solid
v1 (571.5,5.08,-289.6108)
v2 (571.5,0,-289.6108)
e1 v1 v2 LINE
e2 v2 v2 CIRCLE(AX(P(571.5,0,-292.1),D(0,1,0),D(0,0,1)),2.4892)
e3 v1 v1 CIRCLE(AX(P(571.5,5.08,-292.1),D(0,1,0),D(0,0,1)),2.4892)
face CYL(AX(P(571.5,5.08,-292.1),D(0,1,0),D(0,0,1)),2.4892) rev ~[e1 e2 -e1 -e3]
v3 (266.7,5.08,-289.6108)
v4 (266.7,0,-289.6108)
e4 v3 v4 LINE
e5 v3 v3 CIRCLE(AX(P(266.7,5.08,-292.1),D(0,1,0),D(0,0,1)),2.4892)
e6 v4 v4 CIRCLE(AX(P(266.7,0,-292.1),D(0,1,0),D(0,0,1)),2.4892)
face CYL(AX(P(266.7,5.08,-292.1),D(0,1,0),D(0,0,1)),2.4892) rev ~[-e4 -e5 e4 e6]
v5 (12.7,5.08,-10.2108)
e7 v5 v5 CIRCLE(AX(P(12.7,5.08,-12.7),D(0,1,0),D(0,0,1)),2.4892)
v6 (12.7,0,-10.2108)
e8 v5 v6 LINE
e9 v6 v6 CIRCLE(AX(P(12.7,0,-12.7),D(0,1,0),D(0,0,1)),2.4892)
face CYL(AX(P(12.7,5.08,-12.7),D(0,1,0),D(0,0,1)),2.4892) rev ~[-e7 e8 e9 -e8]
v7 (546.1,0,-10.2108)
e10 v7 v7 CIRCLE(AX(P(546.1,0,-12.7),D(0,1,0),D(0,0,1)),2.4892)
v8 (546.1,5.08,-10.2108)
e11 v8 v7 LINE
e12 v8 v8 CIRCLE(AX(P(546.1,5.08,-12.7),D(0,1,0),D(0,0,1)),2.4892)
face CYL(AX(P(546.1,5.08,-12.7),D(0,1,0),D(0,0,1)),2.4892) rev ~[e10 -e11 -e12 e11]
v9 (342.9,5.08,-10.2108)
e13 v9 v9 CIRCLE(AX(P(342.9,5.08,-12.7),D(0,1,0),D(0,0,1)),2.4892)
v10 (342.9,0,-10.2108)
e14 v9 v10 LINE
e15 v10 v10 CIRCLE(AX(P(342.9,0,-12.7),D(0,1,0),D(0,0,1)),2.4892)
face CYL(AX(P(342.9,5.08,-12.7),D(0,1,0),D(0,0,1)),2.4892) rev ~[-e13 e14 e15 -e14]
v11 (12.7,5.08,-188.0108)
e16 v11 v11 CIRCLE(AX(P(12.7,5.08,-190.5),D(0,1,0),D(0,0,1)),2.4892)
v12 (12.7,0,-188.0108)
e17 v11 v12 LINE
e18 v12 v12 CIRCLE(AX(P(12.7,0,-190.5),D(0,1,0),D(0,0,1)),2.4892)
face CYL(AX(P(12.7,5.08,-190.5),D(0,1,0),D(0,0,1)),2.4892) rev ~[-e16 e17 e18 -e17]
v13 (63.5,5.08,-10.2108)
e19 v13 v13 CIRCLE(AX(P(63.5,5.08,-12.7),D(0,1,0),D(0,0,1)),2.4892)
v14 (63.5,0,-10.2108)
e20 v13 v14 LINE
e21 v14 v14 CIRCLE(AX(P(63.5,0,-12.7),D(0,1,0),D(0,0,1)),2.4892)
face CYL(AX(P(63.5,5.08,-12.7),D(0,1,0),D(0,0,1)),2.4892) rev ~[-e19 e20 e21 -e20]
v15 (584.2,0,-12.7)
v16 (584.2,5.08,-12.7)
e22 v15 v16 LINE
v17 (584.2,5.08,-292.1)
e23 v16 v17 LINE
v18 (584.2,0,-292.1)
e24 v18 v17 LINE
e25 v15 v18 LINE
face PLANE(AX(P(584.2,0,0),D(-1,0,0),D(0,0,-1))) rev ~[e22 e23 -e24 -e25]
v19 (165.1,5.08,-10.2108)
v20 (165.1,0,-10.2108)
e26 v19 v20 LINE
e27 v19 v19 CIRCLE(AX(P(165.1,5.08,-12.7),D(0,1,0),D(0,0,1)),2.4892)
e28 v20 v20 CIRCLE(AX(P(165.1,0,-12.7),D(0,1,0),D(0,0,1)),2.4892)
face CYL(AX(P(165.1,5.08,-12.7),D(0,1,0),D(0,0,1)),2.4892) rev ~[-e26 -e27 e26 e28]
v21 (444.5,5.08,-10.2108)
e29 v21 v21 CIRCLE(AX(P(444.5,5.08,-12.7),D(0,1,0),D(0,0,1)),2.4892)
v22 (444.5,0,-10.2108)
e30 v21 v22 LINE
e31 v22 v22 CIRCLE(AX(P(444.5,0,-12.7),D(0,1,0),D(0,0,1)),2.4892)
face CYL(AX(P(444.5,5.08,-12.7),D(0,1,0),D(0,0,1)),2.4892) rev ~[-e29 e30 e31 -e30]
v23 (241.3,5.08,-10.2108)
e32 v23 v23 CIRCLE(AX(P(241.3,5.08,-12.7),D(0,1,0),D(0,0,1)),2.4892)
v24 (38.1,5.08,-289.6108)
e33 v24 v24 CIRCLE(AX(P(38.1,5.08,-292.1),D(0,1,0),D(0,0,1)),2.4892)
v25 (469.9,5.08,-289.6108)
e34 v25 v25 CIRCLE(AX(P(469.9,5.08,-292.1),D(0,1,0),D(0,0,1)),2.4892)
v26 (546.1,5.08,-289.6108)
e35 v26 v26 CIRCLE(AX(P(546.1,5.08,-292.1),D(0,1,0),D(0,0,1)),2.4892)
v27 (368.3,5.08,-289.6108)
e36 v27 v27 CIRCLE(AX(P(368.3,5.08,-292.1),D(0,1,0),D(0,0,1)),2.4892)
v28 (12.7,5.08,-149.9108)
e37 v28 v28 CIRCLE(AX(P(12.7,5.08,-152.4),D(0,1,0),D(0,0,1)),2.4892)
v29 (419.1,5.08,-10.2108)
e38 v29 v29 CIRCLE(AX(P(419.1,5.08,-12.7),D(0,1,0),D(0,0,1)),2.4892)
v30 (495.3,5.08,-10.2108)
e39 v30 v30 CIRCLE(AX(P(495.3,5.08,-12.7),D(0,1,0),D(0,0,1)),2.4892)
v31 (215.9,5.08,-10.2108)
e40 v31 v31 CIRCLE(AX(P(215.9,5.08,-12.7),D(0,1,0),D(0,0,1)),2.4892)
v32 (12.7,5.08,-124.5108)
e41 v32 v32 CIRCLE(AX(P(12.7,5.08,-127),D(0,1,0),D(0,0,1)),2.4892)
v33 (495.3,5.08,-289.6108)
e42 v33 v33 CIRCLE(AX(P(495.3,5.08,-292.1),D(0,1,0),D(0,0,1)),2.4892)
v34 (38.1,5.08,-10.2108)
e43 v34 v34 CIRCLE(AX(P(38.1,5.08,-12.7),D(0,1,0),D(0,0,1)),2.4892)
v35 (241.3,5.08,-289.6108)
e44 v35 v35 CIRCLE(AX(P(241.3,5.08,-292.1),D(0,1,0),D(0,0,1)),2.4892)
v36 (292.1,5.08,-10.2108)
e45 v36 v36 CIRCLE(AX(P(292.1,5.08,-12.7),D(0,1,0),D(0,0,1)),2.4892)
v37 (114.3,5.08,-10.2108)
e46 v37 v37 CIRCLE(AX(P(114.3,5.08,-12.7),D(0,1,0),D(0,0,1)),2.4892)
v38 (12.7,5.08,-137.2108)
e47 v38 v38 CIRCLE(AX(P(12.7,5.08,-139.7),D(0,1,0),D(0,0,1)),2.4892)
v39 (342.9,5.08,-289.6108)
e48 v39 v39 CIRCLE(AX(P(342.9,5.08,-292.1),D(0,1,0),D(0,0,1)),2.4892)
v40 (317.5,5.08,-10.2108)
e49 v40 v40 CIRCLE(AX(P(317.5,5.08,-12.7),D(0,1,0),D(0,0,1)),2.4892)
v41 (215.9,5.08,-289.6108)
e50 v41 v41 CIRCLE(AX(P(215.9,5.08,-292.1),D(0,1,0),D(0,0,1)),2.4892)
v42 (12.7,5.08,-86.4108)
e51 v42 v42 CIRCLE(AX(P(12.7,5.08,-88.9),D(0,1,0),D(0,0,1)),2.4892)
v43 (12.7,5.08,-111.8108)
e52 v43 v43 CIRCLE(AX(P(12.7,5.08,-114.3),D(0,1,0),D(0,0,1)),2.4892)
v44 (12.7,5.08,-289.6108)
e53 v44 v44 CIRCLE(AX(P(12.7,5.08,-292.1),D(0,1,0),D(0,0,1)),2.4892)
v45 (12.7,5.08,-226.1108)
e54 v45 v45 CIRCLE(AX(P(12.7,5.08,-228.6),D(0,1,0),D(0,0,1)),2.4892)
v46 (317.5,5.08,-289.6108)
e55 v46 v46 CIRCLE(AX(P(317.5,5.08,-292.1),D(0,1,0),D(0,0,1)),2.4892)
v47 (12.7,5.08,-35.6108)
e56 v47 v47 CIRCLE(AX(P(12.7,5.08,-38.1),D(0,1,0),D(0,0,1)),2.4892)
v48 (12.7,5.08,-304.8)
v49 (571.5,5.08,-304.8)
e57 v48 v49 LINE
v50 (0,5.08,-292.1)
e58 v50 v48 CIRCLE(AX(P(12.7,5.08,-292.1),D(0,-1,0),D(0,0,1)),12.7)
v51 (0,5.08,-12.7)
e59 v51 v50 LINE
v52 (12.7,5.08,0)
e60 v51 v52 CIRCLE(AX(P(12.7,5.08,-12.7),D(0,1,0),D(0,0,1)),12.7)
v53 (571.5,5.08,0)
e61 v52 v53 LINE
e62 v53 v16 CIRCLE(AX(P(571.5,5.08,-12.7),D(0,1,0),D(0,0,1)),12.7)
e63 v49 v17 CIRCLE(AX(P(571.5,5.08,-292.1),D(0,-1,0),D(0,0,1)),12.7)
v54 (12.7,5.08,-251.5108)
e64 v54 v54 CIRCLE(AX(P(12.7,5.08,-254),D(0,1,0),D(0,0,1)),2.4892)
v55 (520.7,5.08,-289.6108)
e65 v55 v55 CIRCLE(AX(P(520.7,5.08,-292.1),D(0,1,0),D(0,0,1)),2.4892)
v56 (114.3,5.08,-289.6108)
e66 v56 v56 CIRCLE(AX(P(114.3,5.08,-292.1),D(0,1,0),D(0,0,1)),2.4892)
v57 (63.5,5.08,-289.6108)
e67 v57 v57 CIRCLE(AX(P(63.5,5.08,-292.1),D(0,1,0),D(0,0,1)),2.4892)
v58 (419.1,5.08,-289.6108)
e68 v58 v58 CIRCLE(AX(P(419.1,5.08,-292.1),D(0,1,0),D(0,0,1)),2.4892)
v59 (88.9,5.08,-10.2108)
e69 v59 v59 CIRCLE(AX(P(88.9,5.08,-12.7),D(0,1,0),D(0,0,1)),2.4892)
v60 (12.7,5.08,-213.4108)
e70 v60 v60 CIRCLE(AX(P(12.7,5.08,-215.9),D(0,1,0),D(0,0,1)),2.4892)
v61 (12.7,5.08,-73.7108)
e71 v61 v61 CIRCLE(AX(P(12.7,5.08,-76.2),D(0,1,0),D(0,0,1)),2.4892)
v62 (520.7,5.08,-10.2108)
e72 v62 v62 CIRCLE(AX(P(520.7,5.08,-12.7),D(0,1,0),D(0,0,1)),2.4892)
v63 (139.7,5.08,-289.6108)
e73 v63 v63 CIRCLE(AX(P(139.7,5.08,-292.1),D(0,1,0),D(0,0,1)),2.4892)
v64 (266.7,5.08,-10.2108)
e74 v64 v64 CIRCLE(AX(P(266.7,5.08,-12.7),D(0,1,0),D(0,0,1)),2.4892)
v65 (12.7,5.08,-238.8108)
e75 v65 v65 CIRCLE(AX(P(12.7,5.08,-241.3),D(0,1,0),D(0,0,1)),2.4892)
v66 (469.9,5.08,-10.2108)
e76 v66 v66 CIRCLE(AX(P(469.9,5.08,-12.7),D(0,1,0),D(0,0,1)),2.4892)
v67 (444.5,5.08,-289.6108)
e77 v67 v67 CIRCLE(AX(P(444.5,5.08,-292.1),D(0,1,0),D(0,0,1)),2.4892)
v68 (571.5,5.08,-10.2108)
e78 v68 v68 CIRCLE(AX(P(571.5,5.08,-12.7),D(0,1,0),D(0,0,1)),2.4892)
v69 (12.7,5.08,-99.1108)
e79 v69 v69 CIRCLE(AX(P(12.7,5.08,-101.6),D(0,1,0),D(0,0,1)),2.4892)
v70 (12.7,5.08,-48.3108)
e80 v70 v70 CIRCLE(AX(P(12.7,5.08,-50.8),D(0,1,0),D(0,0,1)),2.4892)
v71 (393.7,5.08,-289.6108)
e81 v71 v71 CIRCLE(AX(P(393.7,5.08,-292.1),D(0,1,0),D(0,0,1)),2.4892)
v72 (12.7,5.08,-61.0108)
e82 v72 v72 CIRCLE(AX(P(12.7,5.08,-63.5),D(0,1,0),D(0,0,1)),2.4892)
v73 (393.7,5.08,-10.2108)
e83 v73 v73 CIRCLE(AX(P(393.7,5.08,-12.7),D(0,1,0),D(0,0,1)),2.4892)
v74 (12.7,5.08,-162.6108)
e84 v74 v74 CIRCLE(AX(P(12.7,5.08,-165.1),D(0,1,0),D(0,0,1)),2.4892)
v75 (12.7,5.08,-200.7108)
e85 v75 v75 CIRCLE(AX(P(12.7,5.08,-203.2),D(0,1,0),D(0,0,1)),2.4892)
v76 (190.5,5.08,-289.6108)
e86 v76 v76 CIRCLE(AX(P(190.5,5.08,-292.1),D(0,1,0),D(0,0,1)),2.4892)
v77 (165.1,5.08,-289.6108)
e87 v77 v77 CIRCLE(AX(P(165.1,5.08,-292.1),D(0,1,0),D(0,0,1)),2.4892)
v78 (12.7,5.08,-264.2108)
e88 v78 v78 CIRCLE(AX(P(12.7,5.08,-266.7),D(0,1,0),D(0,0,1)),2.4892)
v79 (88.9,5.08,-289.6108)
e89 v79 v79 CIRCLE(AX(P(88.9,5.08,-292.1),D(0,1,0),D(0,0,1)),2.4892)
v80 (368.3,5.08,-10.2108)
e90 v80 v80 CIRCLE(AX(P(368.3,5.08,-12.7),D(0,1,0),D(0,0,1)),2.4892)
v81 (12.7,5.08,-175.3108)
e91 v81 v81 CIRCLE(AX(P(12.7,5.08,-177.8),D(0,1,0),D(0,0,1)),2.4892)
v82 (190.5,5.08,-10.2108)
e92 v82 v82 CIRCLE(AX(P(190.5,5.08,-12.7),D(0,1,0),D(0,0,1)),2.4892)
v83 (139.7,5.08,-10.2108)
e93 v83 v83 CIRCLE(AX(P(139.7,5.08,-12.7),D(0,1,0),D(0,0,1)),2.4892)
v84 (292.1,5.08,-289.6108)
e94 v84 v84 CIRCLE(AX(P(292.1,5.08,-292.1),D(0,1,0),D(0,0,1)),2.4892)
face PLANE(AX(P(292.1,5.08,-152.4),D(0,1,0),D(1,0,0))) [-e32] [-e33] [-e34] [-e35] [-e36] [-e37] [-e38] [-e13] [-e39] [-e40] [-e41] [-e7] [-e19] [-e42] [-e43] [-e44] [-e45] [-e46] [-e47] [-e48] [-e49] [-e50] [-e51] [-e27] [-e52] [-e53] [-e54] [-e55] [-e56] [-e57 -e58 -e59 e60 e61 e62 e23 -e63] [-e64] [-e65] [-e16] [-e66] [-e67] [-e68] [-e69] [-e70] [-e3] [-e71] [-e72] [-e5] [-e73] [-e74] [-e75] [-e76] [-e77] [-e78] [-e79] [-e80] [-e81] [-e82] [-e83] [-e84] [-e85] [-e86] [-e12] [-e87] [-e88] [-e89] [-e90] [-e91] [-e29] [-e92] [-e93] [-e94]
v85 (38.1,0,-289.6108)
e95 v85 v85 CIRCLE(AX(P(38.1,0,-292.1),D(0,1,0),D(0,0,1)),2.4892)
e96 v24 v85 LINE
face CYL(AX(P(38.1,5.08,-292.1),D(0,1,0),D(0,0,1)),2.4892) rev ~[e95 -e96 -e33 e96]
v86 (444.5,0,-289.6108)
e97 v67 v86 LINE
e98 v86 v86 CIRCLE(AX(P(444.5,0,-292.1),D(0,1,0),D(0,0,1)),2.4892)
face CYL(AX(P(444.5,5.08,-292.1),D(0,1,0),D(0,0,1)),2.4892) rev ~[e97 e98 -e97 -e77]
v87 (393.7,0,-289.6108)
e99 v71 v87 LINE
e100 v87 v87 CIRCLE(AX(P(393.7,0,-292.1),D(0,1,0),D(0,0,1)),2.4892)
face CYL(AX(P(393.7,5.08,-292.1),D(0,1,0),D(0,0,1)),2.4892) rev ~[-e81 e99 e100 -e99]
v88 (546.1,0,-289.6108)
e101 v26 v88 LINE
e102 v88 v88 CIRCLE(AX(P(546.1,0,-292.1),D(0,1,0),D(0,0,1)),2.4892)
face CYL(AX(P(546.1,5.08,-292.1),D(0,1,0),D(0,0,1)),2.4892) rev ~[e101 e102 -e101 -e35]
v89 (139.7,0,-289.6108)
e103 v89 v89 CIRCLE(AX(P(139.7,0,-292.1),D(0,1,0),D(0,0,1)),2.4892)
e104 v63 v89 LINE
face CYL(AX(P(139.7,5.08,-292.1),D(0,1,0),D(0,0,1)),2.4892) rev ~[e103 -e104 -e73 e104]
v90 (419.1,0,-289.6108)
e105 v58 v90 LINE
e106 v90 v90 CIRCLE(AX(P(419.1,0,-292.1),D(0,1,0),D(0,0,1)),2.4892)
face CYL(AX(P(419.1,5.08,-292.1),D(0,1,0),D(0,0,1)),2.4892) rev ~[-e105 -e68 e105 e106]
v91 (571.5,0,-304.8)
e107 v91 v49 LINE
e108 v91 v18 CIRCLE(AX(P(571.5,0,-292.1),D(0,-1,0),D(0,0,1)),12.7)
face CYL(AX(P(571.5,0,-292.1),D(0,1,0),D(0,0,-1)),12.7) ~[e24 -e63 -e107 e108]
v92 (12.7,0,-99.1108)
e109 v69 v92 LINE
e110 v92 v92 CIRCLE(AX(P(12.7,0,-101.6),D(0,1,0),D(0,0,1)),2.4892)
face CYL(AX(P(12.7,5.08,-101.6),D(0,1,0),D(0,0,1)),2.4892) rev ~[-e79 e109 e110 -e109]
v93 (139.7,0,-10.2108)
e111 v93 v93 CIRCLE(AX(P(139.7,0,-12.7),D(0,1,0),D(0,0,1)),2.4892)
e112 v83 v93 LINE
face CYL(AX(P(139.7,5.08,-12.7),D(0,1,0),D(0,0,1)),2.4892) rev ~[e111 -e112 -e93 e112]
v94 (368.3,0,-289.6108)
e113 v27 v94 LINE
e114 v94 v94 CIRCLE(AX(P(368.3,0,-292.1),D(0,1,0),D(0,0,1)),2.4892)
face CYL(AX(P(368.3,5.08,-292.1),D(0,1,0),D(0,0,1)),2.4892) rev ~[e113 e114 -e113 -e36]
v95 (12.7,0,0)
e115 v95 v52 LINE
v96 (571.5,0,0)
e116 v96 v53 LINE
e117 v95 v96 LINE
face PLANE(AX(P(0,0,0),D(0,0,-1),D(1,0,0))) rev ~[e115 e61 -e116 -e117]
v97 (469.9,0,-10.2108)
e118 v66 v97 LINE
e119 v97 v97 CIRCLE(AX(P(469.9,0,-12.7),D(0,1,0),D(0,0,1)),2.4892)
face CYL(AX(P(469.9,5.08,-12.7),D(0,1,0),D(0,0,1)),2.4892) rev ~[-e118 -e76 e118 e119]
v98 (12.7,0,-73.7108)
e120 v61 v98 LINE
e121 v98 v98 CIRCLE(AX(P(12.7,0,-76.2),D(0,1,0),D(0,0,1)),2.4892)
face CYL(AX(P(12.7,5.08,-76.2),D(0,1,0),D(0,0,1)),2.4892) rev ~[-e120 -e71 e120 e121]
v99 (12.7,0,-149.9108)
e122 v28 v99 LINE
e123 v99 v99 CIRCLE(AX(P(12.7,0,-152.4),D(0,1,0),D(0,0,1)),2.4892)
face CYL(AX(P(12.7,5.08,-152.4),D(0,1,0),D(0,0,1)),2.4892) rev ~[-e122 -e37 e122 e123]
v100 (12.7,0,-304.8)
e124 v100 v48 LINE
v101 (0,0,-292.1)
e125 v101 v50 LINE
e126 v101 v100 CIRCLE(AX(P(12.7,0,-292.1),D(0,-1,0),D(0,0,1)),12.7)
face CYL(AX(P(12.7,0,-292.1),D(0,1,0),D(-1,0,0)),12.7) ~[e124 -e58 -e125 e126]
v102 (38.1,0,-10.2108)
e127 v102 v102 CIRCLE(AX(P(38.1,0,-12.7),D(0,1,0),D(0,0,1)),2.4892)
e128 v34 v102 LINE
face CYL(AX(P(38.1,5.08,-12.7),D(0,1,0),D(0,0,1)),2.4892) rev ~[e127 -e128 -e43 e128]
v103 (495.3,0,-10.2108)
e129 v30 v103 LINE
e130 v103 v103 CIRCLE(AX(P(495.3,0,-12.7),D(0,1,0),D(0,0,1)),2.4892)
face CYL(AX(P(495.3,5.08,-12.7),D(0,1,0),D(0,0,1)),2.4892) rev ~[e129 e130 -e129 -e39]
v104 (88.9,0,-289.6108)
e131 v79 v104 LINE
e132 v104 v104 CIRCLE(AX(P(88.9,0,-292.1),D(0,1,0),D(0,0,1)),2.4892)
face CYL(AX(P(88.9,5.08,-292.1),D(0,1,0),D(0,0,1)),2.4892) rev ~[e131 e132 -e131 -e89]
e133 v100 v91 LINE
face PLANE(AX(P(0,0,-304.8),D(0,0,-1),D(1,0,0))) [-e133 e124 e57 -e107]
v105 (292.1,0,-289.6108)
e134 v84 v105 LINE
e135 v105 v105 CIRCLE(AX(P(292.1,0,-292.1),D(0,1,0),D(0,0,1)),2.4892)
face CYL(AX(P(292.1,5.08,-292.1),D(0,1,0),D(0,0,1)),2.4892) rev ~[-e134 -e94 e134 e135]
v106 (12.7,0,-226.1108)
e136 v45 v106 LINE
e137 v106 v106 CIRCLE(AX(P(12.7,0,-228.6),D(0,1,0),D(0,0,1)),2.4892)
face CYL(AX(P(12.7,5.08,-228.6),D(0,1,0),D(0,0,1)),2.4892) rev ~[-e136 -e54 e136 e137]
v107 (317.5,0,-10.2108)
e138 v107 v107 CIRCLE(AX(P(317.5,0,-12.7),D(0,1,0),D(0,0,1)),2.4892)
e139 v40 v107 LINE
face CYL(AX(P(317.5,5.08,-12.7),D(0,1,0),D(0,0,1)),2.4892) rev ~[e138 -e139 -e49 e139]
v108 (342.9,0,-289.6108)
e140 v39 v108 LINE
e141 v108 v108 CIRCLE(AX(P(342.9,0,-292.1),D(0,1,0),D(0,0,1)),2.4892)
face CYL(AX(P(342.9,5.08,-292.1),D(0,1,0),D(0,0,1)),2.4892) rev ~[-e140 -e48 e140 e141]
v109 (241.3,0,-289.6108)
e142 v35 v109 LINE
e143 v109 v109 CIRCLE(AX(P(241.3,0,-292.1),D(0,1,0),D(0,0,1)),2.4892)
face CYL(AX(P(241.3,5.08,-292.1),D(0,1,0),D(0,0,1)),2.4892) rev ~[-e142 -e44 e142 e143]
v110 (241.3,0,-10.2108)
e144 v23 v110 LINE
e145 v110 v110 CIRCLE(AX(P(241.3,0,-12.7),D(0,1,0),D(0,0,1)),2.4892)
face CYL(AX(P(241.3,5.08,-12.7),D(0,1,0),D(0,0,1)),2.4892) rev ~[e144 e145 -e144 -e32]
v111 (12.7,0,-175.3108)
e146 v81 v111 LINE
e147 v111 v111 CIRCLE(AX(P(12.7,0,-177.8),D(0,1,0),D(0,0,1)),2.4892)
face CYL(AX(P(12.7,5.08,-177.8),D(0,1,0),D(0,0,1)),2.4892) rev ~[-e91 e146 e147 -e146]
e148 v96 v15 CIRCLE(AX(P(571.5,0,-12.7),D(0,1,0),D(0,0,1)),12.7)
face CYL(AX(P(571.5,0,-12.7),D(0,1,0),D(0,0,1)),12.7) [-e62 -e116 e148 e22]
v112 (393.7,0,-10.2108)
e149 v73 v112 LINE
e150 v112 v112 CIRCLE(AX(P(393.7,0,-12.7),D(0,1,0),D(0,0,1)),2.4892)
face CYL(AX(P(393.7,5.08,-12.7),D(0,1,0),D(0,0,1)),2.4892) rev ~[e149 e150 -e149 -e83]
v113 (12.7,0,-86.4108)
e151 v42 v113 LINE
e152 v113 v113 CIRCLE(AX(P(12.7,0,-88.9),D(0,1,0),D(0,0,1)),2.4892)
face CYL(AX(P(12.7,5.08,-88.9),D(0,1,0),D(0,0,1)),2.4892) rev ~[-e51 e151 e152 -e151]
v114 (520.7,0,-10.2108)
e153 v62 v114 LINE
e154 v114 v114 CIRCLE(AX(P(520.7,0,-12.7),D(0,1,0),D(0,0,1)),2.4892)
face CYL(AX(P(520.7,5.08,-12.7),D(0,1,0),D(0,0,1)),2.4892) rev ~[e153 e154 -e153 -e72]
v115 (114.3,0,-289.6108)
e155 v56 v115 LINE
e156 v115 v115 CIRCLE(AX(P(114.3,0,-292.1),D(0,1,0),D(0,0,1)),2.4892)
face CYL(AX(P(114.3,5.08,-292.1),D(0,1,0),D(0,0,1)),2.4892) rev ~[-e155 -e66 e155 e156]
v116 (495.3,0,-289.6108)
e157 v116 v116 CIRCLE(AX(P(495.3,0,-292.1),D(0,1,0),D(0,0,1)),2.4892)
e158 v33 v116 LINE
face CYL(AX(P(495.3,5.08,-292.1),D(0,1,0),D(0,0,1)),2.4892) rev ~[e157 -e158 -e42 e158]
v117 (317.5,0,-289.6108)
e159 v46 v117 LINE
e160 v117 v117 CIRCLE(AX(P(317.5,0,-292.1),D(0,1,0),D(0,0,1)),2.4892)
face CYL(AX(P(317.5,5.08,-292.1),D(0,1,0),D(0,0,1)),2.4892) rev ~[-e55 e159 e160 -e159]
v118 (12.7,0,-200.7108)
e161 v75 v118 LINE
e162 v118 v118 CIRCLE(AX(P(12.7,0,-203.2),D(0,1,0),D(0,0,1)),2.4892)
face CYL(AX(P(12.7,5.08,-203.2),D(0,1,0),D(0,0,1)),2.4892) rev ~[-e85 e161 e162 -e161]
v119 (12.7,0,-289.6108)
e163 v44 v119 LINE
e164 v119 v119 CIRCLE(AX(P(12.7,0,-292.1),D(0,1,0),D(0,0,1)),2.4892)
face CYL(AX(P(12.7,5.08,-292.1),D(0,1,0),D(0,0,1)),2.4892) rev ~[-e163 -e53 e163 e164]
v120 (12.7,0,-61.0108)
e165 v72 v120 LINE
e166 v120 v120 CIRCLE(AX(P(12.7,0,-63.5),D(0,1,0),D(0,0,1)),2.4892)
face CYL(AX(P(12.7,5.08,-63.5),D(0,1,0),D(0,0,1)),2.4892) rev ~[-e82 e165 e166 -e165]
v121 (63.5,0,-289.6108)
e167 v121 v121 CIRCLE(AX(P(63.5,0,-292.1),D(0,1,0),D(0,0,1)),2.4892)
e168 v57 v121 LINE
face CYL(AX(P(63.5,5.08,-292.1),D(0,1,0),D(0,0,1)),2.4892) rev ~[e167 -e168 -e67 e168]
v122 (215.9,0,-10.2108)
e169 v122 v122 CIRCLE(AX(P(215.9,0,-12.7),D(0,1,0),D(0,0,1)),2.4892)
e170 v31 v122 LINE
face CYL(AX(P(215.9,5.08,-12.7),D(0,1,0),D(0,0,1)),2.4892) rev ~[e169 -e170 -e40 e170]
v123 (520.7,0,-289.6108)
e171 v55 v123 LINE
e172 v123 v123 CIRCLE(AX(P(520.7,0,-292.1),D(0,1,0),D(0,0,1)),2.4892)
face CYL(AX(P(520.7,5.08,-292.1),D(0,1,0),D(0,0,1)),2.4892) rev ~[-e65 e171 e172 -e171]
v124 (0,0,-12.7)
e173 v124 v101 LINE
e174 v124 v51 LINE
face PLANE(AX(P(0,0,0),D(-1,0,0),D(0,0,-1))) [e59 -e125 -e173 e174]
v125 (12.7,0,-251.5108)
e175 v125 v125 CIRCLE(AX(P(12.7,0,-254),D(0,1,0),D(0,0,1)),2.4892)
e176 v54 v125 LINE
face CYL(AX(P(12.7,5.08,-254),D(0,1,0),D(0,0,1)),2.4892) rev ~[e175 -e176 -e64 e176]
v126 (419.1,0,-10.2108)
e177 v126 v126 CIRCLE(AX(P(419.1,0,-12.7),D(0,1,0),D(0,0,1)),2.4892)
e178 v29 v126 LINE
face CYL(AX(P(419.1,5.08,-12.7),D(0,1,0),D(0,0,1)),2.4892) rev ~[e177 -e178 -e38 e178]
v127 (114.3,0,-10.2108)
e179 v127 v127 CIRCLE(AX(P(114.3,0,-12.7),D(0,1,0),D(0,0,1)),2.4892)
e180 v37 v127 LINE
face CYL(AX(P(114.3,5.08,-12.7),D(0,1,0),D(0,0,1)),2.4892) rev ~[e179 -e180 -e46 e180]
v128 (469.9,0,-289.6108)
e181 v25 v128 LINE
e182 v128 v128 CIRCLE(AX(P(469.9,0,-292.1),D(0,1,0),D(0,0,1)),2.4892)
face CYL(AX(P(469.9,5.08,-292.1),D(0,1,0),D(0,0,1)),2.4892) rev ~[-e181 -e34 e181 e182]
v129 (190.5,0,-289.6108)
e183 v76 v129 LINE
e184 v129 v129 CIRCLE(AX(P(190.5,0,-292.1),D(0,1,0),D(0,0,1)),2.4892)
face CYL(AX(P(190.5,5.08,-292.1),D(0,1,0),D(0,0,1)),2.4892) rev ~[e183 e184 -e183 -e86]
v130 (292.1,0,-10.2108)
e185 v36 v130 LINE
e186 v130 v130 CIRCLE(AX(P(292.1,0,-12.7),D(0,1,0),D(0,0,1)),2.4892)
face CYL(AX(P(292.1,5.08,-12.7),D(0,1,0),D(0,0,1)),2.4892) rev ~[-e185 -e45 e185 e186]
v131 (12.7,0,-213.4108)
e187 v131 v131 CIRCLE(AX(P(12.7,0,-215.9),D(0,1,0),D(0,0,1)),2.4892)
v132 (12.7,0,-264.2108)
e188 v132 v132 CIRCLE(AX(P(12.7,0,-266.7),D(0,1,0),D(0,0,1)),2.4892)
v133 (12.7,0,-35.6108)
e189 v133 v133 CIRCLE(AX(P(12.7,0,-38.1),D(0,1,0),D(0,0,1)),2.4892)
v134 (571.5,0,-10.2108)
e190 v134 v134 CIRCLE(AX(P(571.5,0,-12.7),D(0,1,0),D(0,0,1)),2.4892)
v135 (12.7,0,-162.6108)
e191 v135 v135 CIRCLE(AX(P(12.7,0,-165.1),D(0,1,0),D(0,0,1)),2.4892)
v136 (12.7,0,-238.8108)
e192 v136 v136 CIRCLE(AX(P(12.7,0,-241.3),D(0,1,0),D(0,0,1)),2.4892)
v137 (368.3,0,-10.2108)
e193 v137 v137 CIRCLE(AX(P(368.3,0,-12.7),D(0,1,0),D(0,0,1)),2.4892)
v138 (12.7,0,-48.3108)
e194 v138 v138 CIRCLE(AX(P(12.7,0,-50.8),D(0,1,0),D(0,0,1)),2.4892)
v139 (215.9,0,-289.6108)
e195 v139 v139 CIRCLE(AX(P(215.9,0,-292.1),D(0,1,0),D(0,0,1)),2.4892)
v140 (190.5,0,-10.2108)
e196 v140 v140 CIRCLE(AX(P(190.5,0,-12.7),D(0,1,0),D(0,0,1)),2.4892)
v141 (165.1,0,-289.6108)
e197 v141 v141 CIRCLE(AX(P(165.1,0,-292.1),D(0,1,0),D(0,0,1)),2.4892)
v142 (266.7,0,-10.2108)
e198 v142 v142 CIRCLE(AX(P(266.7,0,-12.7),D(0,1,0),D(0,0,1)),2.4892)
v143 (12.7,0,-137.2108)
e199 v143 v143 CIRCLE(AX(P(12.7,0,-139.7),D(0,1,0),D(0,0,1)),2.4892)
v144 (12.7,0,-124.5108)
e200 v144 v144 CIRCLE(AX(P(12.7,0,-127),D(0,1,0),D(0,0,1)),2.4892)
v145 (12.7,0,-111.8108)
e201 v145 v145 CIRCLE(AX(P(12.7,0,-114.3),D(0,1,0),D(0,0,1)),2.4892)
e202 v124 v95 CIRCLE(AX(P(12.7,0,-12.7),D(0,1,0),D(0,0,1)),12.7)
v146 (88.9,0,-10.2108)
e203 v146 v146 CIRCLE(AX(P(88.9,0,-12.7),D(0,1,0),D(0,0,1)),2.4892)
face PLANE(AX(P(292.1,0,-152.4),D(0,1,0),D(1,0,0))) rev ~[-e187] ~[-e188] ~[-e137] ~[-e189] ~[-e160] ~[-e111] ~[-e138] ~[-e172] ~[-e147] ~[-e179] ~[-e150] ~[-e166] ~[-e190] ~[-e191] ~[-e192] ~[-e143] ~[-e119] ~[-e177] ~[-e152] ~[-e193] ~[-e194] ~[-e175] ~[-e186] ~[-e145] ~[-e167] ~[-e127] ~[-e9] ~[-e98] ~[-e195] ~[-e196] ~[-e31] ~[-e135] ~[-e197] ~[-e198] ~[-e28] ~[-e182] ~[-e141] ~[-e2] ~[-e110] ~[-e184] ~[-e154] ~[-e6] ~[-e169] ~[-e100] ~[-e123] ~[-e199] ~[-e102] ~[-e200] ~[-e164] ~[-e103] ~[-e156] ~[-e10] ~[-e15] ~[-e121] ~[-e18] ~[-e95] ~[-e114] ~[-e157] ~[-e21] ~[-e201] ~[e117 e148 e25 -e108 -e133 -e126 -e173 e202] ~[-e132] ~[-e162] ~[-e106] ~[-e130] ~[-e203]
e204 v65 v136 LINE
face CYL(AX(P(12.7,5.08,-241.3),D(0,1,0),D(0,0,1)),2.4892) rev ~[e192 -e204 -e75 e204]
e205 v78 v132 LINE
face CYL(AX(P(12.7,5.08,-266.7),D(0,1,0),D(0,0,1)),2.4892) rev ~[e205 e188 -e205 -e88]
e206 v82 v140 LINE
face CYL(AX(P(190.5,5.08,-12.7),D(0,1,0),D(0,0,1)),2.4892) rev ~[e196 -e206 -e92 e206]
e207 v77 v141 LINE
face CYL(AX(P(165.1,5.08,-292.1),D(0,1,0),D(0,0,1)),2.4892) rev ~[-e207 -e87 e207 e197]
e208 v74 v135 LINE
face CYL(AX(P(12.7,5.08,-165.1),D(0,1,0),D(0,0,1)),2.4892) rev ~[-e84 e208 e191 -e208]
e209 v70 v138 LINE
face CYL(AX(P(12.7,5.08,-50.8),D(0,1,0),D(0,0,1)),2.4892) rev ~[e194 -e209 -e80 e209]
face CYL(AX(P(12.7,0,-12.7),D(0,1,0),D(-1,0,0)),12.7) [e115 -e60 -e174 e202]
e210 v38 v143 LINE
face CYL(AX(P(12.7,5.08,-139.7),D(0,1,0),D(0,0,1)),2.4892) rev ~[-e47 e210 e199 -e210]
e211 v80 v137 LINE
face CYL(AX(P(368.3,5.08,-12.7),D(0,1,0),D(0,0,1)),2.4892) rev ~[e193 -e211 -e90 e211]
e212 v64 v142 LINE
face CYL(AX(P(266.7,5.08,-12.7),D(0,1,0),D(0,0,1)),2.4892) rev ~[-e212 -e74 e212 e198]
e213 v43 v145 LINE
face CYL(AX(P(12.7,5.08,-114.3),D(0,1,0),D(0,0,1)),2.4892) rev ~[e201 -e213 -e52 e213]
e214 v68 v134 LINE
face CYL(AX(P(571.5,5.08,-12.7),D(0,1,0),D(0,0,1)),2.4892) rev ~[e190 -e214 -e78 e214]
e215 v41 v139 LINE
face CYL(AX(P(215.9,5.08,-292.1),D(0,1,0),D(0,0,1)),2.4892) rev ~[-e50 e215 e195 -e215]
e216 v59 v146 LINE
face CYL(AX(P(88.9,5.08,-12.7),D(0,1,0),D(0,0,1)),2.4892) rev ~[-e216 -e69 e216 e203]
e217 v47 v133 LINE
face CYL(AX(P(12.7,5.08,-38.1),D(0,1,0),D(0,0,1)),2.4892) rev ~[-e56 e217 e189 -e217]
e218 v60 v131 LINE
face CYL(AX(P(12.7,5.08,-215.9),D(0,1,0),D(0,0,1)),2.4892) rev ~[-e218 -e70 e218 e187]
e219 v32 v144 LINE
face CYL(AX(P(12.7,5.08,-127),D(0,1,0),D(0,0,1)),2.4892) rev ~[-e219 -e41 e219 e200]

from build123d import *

# Parameters (mm, degrees)
SKETCH1_W           = 584.2
SKETCH1_H           = 304.8
BOSS_EXTRUDE1_DEPTH = 5.08
SKETCH3_R           = 2.4892
CUT_EXTRUDE1_DEPTH  = 659.95256764
FILLET1_R           = 12.7


with BuildPart() as part:
    # Sketch1 → Boss-Extrude1 (new body)
    with BuildSketch(Plane(origin=(0, 0, 0), x_dir=(1, 0, 0), z_dir=(0, 1, 0))):
        with Locations((292.1, 152.4)):
            Rectangle(SKETCH1_W, SKETCH1_H)
    extrude(amount=BOSS_EXTRUDE1_DEPTH)

    # Sketch3 → Cut-Extrude1 (cut, through all)
    with BuildSketch(Plane(origin=(0, 5.08, 0), x_dir=(1, 0, 0), z_dir=(0, 1, 0))):
        with Locations(Location((12.7, 292.1, 0), (0, 0, 270))):
            Circle(SKETCH3_R)
        with Locations(Location((38.1, 292.1, 0), (0, 0, 270))):
            Circle(SKETCH3_R)
        with Locations(Location((63.5, 292.1, 0), (0, 0, 270))):
            Circle(SKETCH3_R)
        with Locations(Location((88.9, 292.1, 0), (0, 0, 270))):
            Circle(SKETCH3_R)
        with Locations(Location((114.3, 292.1, 0), (0, 0, 270))):
            Circle(SKETCH3_R)
        with Locations(Location((139.7, 292.1, 0), (0, 0, 270))):
            Circle(SKETCH3_R)
        with Locations(Location((165.1, 292.1, 0), (0, 0, 270))):
            Circle(SKETCH3_R)
        with Locations(Location((190.5, 292.1, 0), (0, 0, 270))):
            Circle(SKETCH3_R)
        with Locations(Location((215.9, 292.1, 0), (0, 0, 270))):
            Circle(SKETCH3_R)
        with Locations(Location((241.3, 292.1, 0), (0, 0, 270))):
            Circle(SKETCH3_R)
        with Locations(Location((266.7, 292.1, 0), (0, 0, 270))):
            Circle(SKETCH3_R)
        with Locations(Location((292.1, 292.1, 0), (0, 0, 270))):
            Circle(SKETCH3_R)
        with Locations(Location((317.5, 292.1, 0), (0, 0, 270))):
            Circle(SKETCH3_R)
        with Locations(Location((342.9, 292.1, 0), (0, 0, 270))):
            Circle(SKETCH3_R)
        with Locations(Location((368.3, 292.1, 0), (0, 0, 270))):
            Circle(SKETCH3_R)
        with Locations(Location((393.7, 292.1, 0), (0, 0, 270))):
            Circle(SKETCH3_R)
        with Locations(Location((419.1, 292.1, 0), (0, 0, 270))):
            Circle(SKETCH3_R)
        with Locations(Location((444.5, 292.1, 0), (0, 0, 270))):
            Circle(SKETCH3_R)
        with Locations(Location((469.9, 292.1, 0), (0, 0, 270))):
            Circle(SKETCH3_R)
        with Locations(Location((495.3, 292.1, 0), (0, 0, 270))):
            Circle(SKETCH3_R)
        with Locations(Location((520.7, 292.1, 0), (0, 0, 270))):
            Circle(SKETCH3_R)
        with Locations(Location((546.1, 292.1, 0), (0, 0, 270))):
            Circle(SKETCH3_R)
        with Locations(Location((571.5, 292.1, 0), (0, 0, 270))):
            Circle(SKETCH3_R)
        with Locations(Location((12.7, 266.7, 0), (0, 0, 270))):
            Circle(SKETCH3_R)
        with Locations(Location((12.7, 241.3, 0), (0, 0, 270))):
            Circle(SKETCH3_R)
        with Locations(Location((12.7, 215.9, 0), (0, 0, 270))):
            Circle(SKETCH3_R)
        with Locations(Location((12.7, 190.5, 0), (0, 0, 270))):
            Circle(SKETCH3_R)
        with Locations(Location((12.7, 165.1, 0), (0, 0, 270))):
            Circle(SKETCH3_R)
        with Locations(Location((12.7, 139.7, 0), (0, 0, 270))):
            Circle(SKETCH3_R)
        with Locations(Location((12.7, 114.3, 0), (0, 0, 270))):
            Circle(SKETCH3_R)
        with Locations(Location((12.7, 88.9, 0), (0, 0, 270))):
            Circle(SKETCH3_R)
        with Locations(Location((12.7, 63.5, 0), (0, 0, 270))):
            Circle(SKETCH3_R)
        with Locations(Location((12.7, 38.1, 0), (0, 0, 270))):
            Circle(SKETCH3_R)
        with Locations(Location((12.7, 12.7, 0), (0, 0, 270))):
            Circle(SKETCH3_R)
        with Locations(Location((38.1, 12.7, 0), (0, 0, 270))):
            Circle(SKETCH3_R)
        with Locations(Location((63.5, 12.7, 0), (0, 0, 270))):
            Circle(SKETCH3_R)
        with Locations(Location((88.9, 12.7, 0), (0, 0, 270))):
            Circle(SKETCH3_R)
        with Locations(Location((114.3, 12.7, 0), (0, 0, 270))):
            Circle(SKETCH3_R)
        with Locations(Location((139.7, 12.7, 0), (0, 0, 270))):
            Circle(SKETCH3_R)
        with Locations(Location((165.1, 12.7, 0), (0, 0, 270))):
            Circle(SKETCH3_R)
        with Locations(Location((190.5, 12.7, 0), (0, 0, 270))):
            Circle(SKETCH3_R)
        with Locations(Location((215.9, 12.7, 0), (0, 0, 270))):
            Circle(SKETCH3_R)
        with Locations(Location((241.3, 12.7, 0), (0, 0, 270))):
            Circle(SKETCH3_R)
        with Locations(Location((266.7, 12.7, 0), (0, 0, 270))):
            Circle(SKETCH3_R)
        with Locations(Location((292.1, 12.7, 0), (0, 0, 270))):
            Circle(SKETCH3_R)
        with Locations(Location((317.5, 12.7, 0), (0, 0, 270))):
            Circle(SKETCH3_R)
        with Locations(Location((342.9, 12.7, 0), (0, 0, 270))):
            Circle(SKETCH3_R)
        with Locations(Location((368.3, 12.7, 0), (0, 0, 270))):
            Circle(SKETCH3_R)
        with Locations(Location((393.7, 12.7, 0), (0, 0, 270))):
            Circle(SKETCH3_R)
        with Locations(Location((419.1, 12.7, 0), (0, 0, 270))):
            Circle(SKETCH3_R)
        with Locations(Location((444.5, 12.7, 0), (0, 0, 270))):
            Circle(SKETCH3_R)
        with Locations(Location((469.9, 12.7, 0), (0, 0, 270))):
            Circle(SKETCH3_R)
        with Locations(Location((495.3, 12.7, 0), (0, 0, 270))):
            Circle(SKETCH3_R)
        with Locations(Location((520.7, 12.7, 0), (0, 0, 270))):
            Circle(SKETCH3_R)
        with Locations(Location((546.1, 12.7, 0), (0, 0, 270))):
            Circle(SKETCH3_R)
        with Locations(Location((571.5, 12.7, 0), (0, 0, 270))):
            Circle(SKETCH3_R)
        with Locations(Location((12.7, 254, 0), (0, 0, 270))):
            Circle(SKETCH3_R)
        with Locations(Location((12.7, 228.6, 0), (0, 0, 270))):
            Circle(SKETCH3_R)
        with Locations(Location((12.7, 203.2, 0), (0, 0, 270))):
            Circle(SKETCH3_R)
        with Locations(Location((12.7, 177.8, 0), (0, 0, 270))):
            Circle(SKETCH3_R)
        with Locations(Location((12.7, 152.4, 0), (0, 0, 270))):
            Circle(SKETCH3_R)
        with Locations(Location((12.7, 127, 0), (0, 0, 270))):
            Circle(SKETCH3_R)
        with Locations(Location((12.7, 101.6, 0), (0, 0, 270))):
            Circle(SKETCH3_R)
        with Locations(Location((12.7, 76.2, 0), (0, 0, 270))):
            Circle(SKETCH3_R)
        with Locations(Location((12.7, 50.8, 0), (0, 0, 270))):
            Circle(SKETCH3_R)
    extrude(amount=-CUT_EXTRUDE1_DEPTH, mode=Mode.SUBTRACT)

    # Fillet1
    fillet1_edges = [part.edges().sort_by_distance(p)[0] for p in [
        (0, 2.54, -304.8),
        (584.2, 2.54, -304.8),
        (584.2, 2.54, 0),
        (0, 2.54, 0),
    ]]
    fillet(fillet1_edges, radius=FILLET1_R)


solid = part.part
